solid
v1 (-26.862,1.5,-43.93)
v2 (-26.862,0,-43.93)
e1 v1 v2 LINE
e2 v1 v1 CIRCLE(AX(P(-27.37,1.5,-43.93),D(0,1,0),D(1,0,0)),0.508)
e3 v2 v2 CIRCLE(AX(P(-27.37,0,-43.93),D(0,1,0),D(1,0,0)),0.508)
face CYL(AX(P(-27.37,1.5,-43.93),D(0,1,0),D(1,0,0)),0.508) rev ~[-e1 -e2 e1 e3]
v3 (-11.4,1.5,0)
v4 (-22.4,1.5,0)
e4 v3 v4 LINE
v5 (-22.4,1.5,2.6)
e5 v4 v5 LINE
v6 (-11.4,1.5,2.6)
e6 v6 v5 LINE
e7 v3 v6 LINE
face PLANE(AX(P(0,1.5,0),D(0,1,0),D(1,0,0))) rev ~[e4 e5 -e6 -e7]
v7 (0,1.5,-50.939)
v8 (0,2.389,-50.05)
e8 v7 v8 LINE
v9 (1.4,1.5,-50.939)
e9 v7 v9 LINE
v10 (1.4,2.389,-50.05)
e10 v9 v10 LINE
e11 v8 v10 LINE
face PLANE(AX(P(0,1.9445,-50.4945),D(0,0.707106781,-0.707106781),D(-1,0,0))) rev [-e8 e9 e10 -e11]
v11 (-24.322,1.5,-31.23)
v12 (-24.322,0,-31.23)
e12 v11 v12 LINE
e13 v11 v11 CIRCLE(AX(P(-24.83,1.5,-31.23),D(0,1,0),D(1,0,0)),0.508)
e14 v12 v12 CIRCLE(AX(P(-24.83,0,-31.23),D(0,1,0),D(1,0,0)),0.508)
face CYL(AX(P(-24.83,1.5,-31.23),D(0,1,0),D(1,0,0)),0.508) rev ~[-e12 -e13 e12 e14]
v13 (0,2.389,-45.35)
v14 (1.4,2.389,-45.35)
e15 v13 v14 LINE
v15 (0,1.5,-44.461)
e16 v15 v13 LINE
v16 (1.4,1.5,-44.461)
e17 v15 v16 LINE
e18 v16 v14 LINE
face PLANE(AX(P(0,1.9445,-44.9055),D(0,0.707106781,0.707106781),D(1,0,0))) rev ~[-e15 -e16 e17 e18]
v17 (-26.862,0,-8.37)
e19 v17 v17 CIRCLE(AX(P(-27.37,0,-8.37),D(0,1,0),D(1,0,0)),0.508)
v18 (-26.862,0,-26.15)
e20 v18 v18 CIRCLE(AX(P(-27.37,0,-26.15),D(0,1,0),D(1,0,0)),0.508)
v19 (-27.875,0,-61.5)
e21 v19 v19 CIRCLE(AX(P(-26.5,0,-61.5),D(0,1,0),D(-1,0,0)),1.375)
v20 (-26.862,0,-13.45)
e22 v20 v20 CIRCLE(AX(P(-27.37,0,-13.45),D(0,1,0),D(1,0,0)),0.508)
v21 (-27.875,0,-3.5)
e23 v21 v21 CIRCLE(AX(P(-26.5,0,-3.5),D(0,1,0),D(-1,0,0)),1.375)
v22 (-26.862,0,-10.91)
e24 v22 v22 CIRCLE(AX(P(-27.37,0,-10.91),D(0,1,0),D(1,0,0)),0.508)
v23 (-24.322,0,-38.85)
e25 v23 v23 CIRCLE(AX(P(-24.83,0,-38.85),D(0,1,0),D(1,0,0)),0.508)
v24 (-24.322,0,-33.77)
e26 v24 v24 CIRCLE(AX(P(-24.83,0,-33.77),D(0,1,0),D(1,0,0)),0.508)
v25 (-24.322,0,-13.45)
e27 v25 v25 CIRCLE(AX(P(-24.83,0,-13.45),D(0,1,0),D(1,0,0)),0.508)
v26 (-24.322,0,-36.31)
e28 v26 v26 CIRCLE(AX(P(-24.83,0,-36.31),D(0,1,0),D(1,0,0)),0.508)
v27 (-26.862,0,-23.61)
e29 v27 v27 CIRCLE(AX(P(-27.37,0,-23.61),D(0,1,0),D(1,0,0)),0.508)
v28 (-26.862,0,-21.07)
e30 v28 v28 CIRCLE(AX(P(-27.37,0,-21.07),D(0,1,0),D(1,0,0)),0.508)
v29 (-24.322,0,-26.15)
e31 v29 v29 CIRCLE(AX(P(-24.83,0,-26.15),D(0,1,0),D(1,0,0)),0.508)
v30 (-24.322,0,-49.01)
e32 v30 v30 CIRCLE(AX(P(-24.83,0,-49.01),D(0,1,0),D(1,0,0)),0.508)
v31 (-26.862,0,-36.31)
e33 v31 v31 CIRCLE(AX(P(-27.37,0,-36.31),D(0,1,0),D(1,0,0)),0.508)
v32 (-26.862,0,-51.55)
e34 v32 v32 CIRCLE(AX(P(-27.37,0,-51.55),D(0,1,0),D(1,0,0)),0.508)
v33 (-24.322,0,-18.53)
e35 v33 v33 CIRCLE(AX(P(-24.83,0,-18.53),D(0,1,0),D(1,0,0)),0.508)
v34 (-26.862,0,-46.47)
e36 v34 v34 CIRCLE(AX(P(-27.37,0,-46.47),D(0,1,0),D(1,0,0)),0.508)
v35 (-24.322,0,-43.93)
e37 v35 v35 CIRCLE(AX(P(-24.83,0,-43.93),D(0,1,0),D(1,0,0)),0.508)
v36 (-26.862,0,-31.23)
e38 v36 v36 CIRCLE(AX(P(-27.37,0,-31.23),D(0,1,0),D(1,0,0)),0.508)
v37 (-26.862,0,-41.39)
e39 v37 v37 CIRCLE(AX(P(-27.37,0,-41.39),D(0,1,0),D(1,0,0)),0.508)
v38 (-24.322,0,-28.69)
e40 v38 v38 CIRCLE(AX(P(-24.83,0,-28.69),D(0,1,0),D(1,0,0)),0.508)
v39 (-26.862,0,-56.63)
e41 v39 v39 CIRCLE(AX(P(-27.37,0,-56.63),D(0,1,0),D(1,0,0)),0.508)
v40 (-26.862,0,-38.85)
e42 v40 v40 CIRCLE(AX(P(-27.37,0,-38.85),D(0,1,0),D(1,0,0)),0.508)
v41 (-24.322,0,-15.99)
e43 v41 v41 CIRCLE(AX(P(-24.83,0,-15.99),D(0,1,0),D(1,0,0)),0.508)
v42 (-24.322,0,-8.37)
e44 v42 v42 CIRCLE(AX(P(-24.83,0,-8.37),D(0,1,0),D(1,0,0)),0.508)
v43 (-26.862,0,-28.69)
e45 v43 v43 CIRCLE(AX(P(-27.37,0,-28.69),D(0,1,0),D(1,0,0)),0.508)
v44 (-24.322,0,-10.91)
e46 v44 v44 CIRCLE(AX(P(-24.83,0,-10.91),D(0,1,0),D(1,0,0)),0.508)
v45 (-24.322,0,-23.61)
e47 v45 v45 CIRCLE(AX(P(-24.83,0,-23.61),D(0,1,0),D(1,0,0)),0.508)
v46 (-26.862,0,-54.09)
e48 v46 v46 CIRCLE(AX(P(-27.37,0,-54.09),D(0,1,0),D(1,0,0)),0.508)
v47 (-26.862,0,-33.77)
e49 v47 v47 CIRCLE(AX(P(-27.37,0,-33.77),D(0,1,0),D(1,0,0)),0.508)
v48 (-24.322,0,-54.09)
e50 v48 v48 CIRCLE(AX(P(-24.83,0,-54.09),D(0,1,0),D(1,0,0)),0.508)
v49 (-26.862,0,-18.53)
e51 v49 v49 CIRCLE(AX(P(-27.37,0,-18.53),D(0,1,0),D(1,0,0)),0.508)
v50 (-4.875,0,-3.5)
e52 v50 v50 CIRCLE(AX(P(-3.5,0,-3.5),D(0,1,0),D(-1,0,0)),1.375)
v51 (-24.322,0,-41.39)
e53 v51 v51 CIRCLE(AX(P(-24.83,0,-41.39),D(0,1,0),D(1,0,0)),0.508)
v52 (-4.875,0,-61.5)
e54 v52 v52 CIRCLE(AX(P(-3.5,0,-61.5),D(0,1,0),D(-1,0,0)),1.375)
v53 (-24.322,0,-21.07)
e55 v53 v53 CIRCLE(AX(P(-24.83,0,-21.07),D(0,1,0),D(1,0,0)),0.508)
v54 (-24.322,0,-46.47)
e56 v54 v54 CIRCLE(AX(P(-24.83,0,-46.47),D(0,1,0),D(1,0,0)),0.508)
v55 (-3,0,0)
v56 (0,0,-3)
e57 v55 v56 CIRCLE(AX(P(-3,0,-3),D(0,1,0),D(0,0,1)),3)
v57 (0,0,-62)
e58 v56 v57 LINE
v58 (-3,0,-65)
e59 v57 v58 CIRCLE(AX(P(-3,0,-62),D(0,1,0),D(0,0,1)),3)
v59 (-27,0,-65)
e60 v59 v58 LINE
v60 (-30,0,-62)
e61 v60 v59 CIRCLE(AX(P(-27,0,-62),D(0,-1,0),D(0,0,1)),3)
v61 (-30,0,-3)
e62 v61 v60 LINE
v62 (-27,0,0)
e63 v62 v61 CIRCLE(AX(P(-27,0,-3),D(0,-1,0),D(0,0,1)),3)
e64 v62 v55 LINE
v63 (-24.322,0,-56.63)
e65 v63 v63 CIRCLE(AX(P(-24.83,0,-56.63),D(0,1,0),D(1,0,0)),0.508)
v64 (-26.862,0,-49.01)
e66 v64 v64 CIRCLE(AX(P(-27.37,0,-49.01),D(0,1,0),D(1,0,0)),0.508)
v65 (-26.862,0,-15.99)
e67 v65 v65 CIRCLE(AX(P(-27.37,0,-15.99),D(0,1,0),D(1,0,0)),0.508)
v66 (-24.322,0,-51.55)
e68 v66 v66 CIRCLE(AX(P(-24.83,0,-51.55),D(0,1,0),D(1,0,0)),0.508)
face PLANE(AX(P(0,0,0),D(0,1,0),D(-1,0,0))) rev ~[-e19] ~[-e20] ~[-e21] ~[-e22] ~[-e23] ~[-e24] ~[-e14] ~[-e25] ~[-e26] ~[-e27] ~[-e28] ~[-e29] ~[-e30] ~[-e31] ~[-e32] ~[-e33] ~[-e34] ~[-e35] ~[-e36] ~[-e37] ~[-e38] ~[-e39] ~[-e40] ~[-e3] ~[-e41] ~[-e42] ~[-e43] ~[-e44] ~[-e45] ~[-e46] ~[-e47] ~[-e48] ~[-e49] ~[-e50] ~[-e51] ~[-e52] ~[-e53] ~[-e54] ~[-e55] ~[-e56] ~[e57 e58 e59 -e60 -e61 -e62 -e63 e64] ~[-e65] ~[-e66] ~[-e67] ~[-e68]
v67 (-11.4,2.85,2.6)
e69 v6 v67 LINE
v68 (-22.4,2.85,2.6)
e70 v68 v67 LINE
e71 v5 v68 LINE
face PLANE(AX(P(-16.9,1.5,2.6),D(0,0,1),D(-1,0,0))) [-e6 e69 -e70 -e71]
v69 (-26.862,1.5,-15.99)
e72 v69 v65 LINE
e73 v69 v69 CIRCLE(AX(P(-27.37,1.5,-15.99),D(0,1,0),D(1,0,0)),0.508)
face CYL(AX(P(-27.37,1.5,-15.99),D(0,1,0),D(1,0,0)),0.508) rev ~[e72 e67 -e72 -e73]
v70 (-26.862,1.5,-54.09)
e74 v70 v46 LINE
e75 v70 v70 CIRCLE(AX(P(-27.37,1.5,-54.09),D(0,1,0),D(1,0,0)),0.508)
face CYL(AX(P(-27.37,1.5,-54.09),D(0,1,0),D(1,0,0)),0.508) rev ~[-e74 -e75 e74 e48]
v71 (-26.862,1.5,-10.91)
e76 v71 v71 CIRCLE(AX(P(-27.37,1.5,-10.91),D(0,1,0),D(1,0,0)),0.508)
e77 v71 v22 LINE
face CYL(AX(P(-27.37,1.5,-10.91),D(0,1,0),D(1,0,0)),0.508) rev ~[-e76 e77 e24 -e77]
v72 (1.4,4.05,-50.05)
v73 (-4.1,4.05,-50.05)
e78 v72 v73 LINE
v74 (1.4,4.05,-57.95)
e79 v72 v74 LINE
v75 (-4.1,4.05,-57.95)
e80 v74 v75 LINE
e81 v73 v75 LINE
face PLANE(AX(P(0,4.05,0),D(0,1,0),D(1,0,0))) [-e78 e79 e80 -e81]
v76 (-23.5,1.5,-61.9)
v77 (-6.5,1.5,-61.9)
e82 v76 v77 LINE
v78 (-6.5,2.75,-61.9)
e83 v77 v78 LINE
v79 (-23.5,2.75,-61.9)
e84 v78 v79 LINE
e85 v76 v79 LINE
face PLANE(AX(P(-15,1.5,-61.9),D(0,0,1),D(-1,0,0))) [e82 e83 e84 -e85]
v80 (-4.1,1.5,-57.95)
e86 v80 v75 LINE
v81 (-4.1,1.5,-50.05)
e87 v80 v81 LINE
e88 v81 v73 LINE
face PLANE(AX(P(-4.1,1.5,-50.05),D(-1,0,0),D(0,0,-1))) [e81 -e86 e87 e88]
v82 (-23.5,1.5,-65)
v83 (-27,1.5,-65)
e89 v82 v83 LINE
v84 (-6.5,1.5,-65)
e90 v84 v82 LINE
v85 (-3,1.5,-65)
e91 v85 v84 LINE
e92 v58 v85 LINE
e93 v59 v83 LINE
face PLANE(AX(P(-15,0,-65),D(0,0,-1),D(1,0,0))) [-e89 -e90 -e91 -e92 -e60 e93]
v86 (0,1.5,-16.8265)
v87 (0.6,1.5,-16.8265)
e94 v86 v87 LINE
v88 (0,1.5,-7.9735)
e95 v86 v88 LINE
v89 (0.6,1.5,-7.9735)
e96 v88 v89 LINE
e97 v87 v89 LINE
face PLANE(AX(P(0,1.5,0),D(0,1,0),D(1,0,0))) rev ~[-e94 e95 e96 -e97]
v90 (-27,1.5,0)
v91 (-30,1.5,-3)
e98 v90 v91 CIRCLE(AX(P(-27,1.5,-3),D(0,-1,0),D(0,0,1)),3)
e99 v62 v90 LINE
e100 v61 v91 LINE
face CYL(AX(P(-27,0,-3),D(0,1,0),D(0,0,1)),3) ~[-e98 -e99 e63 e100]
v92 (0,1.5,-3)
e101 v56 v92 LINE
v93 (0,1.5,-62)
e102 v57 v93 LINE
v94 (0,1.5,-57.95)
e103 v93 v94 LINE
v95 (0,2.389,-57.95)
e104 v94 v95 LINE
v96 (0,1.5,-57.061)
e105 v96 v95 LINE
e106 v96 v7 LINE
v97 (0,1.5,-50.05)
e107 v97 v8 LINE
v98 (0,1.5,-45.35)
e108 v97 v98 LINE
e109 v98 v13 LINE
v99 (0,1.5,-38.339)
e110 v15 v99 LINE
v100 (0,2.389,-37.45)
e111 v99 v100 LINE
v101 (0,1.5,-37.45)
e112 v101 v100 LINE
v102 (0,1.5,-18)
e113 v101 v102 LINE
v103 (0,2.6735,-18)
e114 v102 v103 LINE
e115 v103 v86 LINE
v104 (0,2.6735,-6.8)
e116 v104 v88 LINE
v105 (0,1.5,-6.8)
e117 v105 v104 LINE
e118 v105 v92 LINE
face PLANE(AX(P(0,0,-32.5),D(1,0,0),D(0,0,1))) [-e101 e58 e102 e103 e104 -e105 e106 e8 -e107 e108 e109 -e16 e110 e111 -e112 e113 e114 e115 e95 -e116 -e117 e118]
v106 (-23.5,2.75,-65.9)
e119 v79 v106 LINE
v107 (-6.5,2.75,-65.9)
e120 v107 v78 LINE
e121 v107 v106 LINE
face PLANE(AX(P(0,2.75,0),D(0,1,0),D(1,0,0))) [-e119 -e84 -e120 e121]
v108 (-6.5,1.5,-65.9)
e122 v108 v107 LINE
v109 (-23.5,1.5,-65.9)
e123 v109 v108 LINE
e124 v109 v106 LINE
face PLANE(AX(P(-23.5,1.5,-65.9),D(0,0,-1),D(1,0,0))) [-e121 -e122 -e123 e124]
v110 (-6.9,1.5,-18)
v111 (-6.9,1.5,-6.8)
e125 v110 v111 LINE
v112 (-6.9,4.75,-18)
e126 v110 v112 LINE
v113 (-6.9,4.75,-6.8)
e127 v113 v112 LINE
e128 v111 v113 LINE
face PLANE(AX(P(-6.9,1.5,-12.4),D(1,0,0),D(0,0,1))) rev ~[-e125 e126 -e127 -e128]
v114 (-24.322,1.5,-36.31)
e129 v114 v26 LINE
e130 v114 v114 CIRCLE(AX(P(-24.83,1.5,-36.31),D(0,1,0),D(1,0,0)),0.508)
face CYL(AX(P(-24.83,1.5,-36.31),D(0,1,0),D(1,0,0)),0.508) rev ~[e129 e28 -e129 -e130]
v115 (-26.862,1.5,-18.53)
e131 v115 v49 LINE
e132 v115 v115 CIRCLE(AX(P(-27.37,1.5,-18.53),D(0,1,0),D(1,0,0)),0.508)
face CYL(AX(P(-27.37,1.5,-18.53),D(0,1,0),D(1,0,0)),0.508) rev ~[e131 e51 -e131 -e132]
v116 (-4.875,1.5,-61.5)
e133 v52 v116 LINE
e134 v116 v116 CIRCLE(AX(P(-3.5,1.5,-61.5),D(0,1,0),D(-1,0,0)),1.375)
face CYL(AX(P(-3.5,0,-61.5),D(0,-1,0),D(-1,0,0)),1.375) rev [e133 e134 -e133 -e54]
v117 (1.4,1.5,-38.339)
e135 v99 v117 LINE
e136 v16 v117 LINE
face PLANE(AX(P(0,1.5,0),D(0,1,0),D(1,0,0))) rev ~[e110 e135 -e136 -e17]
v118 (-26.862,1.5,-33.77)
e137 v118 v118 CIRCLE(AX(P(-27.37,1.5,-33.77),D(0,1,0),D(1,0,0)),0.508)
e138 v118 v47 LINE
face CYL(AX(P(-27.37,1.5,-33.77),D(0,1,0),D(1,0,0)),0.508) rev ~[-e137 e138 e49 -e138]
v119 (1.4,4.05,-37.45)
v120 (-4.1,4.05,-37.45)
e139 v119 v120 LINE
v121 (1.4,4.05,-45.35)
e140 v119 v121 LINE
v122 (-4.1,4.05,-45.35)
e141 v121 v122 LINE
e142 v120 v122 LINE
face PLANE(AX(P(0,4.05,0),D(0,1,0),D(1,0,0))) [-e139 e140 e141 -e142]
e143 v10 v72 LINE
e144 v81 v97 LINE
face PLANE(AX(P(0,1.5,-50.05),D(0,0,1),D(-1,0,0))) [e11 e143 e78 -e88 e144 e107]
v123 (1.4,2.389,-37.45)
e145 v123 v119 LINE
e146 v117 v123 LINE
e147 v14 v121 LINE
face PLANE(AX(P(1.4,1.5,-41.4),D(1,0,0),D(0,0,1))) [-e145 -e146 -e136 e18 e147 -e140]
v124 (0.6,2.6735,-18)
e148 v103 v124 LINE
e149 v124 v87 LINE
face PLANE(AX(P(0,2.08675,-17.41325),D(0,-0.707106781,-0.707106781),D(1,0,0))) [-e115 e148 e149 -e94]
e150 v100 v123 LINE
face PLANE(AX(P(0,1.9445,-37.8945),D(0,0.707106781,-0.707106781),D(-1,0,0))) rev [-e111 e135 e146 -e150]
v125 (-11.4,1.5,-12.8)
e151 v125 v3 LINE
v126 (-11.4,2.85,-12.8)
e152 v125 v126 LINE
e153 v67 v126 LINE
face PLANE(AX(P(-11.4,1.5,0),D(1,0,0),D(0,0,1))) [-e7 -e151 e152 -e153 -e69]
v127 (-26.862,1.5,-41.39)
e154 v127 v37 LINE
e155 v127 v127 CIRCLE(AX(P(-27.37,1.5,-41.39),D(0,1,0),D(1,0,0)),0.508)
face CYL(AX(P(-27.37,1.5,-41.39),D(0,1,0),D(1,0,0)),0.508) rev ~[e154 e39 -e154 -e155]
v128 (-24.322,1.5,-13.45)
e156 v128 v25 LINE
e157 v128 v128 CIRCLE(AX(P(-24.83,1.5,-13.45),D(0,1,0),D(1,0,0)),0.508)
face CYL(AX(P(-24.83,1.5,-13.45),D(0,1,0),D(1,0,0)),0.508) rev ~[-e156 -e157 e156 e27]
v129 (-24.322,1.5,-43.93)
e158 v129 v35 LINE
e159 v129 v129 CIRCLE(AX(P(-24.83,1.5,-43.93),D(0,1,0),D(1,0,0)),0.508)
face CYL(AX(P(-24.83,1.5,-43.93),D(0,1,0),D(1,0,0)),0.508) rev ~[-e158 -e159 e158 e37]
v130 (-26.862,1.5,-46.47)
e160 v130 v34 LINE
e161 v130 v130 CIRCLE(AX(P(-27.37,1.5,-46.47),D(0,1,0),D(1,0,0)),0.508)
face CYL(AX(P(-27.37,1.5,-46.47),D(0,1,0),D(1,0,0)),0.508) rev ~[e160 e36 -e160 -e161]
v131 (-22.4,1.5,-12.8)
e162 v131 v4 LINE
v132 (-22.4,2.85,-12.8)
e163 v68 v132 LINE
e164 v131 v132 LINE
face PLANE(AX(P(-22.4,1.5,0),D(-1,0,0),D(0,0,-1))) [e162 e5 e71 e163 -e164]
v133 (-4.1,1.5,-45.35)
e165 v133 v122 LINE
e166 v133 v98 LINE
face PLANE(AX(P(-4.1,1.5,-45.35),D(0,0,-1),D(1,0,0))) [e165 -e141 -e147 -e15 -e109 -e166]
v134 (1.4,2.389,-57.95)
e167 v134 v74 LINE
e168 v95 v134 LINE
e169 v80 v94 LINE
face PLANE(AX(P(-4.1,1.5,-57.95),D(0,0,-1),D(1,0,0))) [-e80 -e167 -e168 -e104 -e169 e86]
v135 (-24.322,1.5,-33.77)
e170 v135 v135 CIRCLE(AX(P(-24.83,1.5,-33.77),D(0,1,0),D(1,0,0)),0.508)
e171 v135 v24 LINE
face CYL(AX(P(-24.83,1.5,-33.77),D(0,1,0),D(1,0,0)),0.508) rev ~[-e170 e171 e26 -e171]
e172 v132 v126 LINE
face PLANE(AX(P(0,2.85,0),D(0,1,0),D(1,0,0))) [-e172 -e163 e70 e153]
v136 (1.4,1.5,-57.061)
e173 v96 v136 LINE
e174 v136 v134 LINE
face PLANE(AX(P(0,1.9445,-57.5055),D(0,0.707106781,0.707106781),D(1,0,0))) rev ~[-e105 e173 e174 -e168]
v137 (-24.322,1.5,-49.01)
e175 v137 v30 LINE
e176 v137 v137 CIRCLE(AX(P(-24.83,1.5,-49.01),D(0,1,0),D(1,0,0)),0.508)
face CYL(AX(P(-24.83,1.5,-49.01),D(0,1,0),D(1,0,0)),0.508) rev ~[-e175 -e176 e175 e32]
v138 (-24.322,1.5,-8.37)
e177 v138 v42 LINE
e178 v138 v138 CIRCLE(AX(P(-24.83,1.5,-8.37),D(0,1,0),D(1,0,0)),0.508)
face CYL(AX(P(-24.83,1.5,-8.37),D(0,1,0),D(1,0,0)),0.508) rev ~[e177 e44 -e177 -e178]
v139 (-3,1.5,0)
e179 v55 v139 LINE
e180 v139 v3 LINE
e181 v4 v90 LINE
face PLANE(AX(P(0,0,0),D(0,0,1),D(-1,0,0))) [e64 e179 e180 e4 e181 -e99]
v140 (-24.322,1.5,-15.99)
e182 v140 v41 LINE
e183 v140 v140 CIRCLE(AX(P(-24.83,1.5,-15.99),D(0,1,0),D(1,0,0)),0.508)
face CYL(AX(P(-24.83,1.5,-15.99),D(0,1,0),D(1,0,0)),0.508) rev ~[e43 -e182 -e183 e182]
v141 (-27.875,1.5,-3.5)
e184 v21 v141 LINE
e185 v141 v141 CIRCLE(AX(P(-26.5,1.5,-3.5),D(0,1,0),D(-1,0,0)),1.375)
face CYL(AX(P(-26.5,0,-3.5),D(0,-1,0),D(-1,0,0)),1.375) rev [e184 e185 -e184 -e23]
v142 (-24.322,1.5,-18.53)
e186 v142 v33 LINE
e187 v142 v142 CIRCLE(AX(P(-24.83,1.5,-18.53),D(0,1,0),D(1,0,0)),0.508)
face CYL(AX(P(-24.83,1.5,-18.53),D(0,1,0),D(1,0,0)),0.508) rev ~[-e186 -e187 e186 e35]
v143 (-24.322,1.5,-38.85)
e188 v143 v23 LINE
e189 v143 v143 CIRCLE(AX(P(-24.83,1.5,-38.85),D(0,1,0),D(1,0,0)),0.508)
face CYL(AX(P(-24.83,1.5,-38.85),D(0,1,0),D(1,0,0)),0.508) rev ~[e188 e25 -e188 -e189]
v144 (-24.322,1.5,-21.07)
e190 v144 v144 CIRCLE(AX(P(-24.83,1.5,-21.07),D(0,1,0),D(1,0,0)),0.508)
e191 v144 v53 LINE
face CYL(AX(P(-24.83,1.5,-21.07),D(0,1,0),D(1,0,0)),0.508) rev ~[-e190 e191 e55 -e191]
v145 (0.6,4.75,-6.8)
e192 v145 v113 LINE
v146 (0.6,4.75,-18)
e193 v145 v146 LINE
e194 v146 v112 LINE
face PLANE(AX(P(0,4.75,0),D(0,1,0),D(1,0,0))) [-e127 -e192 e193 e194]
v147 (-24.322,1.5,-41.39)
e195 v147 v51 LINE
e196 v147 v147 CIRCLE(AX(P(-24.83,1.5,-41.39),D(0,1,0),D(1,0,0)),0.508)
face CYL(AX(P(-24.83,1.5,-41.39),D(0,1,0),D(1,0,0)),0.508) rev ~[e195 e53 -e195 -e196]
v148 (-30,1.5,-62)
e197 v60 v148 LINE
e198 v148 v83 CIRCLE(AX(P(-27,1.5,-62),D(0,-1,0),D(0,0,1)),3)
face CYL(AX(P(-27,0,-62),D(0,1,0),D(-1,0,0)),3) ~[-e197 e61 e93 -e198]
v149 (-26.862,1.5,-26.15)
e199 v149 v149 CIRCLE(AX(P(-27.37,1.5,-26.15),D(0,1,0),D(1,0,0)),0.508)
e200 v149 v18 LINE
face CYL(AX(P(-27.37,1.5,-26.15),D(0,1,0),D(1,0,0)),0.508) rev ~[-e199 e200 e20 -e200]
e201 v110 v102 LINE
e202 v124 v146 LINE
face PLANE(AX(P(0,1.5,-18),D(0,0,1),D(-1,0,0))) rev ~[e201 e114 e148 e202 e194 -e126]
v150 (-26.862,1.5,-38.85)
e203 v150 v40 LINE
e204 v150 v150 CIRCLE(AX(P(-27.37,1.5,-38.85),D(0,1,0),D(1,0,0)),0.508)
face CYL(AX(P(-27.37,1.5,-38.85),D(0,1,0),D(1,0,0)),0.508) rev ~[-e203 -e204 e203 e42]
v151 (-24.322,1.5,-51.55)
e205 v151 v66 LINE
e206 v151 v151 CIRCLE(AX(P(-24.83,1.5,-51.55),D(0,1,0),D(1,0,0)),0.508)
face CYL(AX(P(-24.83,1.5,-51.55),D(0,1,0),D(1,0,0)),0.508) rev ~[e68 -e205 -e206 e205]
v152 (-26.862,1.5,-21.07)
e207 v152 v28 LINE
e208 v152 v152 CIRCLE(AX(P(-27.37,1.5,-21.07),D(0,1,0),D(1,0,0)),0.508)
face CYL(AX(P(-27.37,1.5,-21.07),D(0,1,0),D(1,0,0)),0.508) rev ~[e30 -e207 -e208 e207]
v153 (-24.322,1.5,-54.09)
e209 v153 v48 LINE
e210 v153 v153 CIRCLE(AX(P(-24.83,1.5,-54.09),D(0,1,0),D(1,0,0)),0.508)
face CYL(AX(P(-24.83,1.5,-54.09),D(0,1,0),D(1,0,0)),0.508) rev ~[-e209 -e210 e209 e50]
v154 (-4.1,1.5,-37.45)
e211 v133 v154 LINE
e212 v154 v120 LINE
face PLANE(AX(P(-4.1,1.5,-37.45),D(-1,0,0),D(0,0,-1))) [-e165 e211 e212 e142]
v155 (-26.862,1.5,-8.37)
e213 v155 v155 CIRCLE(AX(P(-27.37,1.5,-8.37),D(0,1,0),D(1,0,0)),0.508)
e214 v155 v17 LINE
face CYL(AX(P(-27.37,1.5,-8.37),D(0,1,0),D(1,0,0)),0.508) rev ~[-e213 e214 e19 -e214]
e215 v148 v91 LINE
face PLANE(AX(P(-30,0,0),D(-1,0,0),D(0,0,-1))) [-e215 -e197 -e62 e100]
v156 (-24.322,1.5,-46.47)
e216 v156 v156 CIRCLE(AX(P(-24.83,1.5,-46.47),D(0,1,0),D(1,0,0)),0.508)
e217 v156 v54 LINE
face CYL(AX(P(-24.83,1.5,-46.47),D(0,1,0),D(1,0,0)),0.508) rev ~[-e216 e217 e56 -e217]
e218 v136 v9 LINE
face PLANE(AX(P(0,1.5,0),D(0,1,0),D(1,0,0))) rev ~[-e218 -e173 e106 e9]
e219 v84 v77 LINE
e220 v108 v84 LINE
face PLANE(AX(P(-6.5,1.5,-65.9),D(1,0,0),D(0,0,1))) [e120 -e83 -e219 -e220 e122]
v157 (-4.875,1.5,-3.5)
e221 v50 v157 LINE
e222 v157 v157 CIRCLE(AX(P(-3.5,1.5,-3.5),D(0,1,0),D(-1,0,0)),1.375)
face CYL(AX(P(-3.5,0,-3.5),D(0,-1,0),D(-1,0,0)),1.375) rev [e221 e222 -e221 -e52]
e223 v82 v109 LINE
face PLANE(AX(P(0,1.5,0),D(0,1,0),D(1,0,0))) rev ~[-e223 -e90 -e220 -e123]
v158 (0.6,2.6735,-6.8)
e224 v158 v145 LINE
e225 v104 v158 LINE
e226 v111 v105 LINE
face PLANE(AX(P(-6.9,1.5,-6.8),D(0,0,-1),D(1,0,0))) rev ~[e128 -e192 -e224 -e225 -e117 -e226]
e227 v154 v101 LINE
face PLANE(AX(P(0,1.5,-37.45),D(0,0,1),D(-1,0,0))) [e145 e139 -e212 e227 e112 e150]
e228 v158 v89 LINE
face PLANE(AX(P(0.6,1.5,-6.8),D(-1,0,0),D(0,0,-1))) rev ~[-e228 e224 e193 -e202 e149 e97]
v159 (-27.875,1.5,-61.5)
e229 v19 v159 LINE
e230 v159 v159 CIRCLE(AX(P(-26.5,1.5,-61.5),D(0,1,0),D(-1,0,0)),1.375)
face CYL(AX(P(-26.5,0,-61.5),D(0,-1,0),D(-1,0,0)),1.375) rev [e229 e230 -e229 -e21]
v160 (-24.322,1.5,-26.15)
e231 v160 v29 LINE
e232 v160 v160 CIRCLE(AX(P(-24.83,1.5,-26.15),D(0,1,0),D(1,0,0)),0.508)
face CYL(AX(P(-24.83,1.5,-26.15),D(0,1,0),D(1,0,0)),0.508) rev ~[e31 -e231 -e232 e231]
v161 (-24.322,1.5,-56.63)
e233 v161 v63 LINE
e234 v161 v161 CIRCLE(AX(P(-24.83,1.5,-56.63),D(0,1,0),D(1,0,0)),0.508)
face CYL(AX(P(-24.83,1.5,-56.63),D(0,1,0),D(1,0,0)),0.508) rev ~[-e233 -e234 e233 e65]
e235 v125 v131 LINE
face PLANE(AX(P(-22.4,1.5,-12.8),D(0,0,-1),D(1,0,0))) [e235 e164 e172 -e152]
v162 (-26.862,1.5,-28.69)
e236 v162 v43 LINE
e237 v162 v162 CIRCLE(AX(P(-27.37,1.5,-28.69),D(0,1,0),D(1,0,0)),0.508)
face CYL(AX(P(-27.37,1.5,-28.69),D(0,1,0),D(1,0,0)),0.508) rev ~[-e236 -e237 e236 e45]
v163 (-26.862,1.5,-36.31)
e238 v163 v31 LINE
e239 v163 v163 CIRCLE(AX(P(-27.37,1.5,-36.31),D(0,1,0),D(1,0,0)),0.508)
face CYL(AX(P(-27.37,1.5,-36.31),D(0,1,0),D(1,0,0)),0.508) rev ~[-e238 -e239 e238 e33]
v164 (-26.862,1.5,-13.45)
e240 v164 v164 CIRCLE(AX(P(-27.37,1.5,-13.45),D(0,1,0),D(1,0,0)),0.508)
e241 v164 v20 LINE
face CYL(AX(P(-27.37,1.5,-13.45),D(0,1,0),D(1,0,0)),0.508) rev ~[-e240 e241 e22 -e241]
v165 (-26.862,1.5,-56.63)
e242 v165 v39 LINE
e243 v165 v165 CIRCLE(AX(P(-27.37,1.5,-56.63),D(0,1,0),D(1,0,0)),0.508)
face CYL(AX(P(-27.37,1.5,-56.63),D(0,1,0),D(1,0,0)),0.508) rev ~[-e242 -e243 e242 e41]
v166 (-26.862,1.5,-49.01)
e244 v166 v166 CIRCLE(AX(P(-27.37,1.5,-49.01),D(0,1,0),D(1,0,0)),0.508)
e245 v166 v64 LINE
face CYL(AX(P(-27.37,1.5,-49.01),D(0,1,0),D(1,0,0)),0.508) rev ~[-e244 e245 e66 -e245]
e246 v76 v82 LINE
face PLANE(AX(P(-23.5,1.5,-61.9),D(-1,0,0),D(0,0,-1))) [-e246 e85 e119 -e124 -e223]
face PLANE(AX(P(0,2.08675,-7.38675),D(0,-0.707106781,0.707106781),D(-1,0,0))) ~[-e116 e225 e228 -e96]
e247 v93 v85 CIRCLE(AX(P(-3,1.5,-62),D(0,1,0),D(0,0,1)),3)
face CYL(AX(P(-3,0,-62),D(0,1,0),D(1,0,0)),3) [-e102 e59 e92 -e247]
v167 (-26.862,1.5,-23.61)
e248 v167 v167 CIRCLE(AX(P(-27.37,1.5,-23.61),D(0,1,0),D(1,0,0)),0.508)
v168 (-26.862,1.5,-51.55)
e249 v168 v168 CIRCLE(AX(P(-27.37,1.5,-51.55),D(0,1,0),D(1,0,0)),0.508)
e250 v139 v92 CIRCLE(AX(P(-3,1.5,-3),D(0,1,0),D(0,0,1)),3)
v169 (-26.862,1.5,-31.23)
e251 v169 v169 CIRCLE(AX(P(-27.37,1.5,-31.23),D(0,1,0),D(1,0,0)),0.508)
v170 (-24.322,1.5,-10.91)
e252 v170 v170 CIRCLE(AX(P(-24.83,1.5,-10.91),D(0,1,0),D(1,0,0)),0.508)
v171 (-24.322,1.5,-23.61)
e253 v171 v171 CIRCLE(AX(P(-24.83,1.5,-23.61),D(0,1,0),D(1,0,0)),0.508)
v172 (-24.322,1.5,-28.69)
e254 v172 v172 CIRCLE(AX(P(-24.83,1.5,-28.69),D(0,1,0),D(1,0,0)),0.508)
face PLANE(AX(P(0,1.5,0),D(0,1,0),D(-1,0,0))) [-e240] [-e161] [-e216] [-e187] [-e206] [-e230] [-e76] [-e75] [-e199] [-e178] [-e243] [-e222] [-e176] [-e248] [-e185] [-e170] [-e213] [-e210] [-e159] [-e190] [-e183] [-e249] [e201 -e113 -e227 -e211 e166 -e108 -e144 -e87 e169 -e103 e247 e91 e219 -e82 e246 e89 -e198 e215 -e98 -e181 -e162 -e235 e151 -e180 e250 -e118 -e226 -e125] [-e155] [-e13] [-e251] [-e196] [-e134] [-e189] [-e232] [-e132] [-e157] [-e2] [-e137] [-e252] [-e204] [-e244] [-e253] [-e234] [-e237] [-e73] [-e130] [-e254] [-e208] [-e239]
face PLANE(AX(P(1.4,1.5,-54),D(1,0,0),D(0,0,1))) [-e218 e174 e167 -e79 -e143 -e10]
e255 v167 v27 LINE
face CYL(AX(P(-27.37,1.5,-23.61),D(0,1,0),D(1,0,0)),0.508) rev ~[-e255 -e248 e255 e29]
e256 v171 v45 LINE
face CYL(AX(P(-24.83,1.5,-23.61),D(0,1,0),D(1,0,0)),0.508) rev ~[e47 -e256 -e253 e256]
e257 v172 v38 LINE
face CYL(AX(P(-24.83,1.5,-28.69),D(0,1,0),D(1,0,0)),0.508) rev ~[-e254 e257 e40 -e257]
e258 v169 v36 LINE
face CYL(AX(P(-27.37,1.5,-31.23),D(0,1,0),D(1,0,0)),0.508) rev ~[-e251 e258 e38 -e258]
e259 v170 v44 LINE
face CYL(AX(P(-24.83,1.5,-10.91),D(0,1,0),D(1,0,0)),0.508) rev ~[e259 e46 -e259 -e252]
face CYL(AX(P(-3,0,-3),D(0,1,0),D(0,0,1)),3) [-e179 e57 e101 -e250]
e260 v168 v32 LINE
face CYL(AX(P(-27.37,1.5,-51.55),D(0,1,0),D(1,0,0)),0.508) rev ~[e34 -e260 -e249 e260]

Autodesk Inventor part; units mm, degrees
ref_plane "YZ Plane" through (0, 0, 0) normal (1, 0, 0) x (0, 1, 0)
ref_plane "XZ Plane" through (0, 0, 0) normal (0, 1, 0) x (-1, 0, 0)
ref_plane "XY Plane" through (0, 0, 0) normal (0, 0, 1) x (1, 0, 0)
sketch "Sketch1" plane through (0, 0, 0) normal (0, 1, 0) x (-1, 0, 0)
  line L0 (0, 0) -> (30, 0)
  line L1 (30, 0) -> (30, -65)
  line L2 (30, -65) -> (0, -65)
  line L3 (0, -65) -> (0, 0)
  circle A0 centre (26.5, -3.5) radius 1.375
  circle A1 centre (3.5, -3.5) radius 1.375
  circle A2 centre (26.5, -61.5) radius 1.375
  circle A3 centre (3.5, -61.5) radius 1.375
  line L4 (15, 0) -> (15, -65)
  line L5 (30, -32.5) -> (0, -32.5)
  dimension "d0" = 65
  dimension "d1" = 30
  dimension "d2" = 3.5
  dimension "d3" = 3.5
  dimension "d4" = 3.5
  dimension "d5" = 3.5
  dimension "d6" = 3.5
  dimension "d7" = 3.5
  dimension "d8" = 3.5
  dimension "d9" = 3.5
  dimension "d10" = 2.75
  dimension "d11" = 2.75
  dimension "d12" = 2.75
  dimension "d13" = 2.75
  dimension "d14" = 15
  dimension "d15" = 32.5
extrude "Extrusion1" add sketch "Sketch1" along normal blind 1.5
fillet "Fillet1" radius 3 4 edges at (-30, 0.75, 0) (0, 0.75, 0) (0, 0.75, -65) (-30, 0.75, -65)
sketch "Sketch2" plane through (0, 1.5, 0) normal (0, 1, 0) x (1, 0, 0)
  line L0 (-6.9, 6.8) -> (0.6, 6.8)
  line L1 (0.6, 6.8) -> (0.6, 18)
  line L2 (0.6, 18) -> (-6.9, 18)
  line L3 (-6.9, 18) -> (-6.9, 6.8)
  line L4 (-27, 0) -> (-3, 0) projected
  line L5 (-15, 0) -> (-15, 64.9233)
  line L6 (-30, 62) -> (-30, 3) projected
  line L7 (0.6, 12.4) -> (-6.9, 12.4)
  line L8 (-4.1, 57.95) -> (1.4, 57.95)
  line L9 (1.4, 57.95) -> (1.4, 50.05)
  line L10 (1.4, 50.05) -> (-4.1, 50.05)
  line L11 (-4.1, 50.05) -> (-4.1, 57.95)
  line L12 (-4.1, 45.35) -> (1.4, 45.35)
  line L13 (1.4, 45.35) -> (1.4, 37.45)
  line L14 (1.4, 37.45) -> (-4.1, 37.45)
  line L15 (-4.1, 37.45) -> (-4.1, 45.35)
  line L16 (-4.1, 41.4) -> (1.4, 41.4)
  line L17 (-4.1, 54) -> (1.4, 54)
  line L18 (-22.4, 12.8) -> (-11.4, 12.8)
  line L19 (-11.4, 12.8) -> (-11.4, -2.6)
  line L20 (-11.4, -2.6) -> (-22.4, -2.6)
  line L21 (-22.4, -2.6) -> (-22.4, 12.8)
  line L22 (-16.9, 12.8) -> (-16.9, -2.6)
  line L23 (0, 3) -> (0, 62) projected
  line L24 (-23.5, 65.9) -> (-6.5, 65.9)
  line L25 (-6.5, 65.9) -> (-6.5, 61.9)
  line L26 (-6.5, 61.9) -> (-23.5, 61.9)
  line L27 (-23.5, 61.9) -> (-23.5, 65.9)
  line L28 (-15, 65.9) -> (-15, 61.9)
  point P0 (0, 0)
  dimension "d19" = 11.2
  dimension "d20" = 7.5
  dimension "d21" = 15
  dimension "d23" = 12.4
  dimension "d24" = 7.9
  dimension "d25" = 7.9
  dimension "d26" = 5.5
  dimension "d27" = 3.95
  dimension "d28" = 3.95
  dimension "d29" = 41.4
  dimension "d30" = 54
  dimension "d32" = 30.6
  dimension "d33" = 31.4
  dimension "d34" = 11
  dimension "d35" = 15.4
  dimension "d36" = 2.6
  dimension "d37" = 5.5
  dimension "d38" = 16.9
  dimension "d39" = 65.9
  dimension "d40" = 4
  dimension "d41" = 17
  dimension "d42" = 8.5
  dimension "d43" = 15
extrude "Extrusion2" add sketch "Sketch2" along normal blind 3.25 contours L3 L7 L23 L0 | L23 L7 L1 L0 | L3 L2 L23 L7 | L23 L2 L1 L7
extrude "Extrusion3" add sketch "Sketch2" along normal blind 2.55 contours L10 L11 L17 L23 | L23 L17 L9 L10 | L14 L15 L16 L23 | L23 L16 L13 L14 | L23 L12 L13 L16 | L16 L15 L12 L23 | L23 L8 L9 L17 | L17 L11 L8 L23
extrude "Extrusion4" add sketch "Sketch2" along normal blind 1.25 contours L26 L27 L24 L28 L5 | L5 L28 L24 L25 L26
extrude "Extrusion5" add sketch "Sketch2" along normal blind 1.35 contours L21 L18 L22 L4 | L4 L22 L20 L21 | L22 L18 L5 L4 | L4 L19 L20 L22 | L5 L18 L19 L4
chamfer "Chamfer1" distance 1.1735 angle 45 2 edges at (0.3, 1.5, -6.8) (0.3, 1.5, -18)
chamfer "Chamfer2" distance 0.889 angle 45 4 edges at (0.7, 1.5, -37.45) (0.7, 1.5, -45.35) (0.7, 1.5, -50.05) (0.7, 1.5, -57.95)
sketch "Sketch4" plane through (0, 1.5, 0) normal (0, 1, 0) x (1, 0, 0)
  line L0 (-28.85, 7.05) -> (-23.35, 7.05) construction
  line L1 (-23.35, 7.05) -> (-23.35, 57.95) construction
  line L2 (-23.35, 57.95) -> (-28.85, 57.95) construction
  line L3 (-28.85, 57.95) -> (-28.85, 7.05) construction
  line L4 (-30, 62) -> (-30, 3) construction
  line L5 (-27, 0) -> (-22.4, 0) construction
  line L6 (-23.5, 65) -> (-27, 65) construction
  line L7 (-27.37, 8.37) -> (-28.85, 8.37) construction
  line L8 (-24.83, 8.37) -> (-23.35, 8.37) construction
  line L9 (-27.37, 8.37) -> (-27.37, 7.05) construction
  line L10 (-27.37, 56.63) -> (-27.37, 57.95) construction
  line L11 (-24.83, 8.37) -> (-24.83, 7.05) construction
  line L12 (-24.83, 56.63) -> (-24.83, 57.95) construction
  circle A0 centre (-27.37, 8.37) radius 0.508
  circle A1 centre (-27.37, 10.91) radius 0.508
  circle A2 centre (-27.37, 13.45) radius 0.508
  circle A3 centre (-27.37, 15.99) radius 0.508
  circle A4 centre (-27.37, 18.53) radius 0.508
  circle A5 centre (-27.37, 21.07) radius 0.508
  circle A6 centre (-27.37, 23.61) radius 0.508
  circle A7 centre (-27.37, 26.15) radius 0.508
  circle A8 centre (-27.37, 28.69) radius 0.508
  circle A9 centre (-27.37, 31.23) radius 0.508
  circle A10 centre (-27.37, 33.77) radius 0.508
  circle A11 centre (-27.37, 36.31) radius 0.508
  circle A12 centre (-27.37, 38.85) radius 0.508
  circle A13 centre (-27.37, 41.39) radius 0.508
  circle A14 centre (-27.37, 43.93) radius 0.508
  circle A15 centre (-27.37, 46.47) radius 0.508
  circle A16 centre (-27.37, 49.01) radius 0.508
  circle A17 centre (-27.37, 51.55) radius 0.508
  circle A18 centre (-27.37, 54.09) radius 0.508
  circle A19 centre (-27.37, 56.63) radius 0.508
  circle A20 centre (-24.83, 8.37) radius 0.508
  circle A21 centre (-24.83, 10.91) radius 0.508
  circle A22 centre (-24.83, 13.45) radius 0.508
  circle A23 centre (-24.83, 15.99) radius 0.508
  circle A24 centre (-24.83, 18.53) radius 0.508
  circle A25 centre (-24.83, 21.07) radius 0.508
  circle A26 centre (-24.83, 23.61) radius 0.508
  circle A27 centre (-24.83, 26.15) radius 0.508
  circle A28 centre (-24.83, 28.69) radius 0.508
  circle A29 centre (-24.83, 31.23) radius 0.508
  circle A30 centre (-24.83, 33.77) radius 0.508
  circle A31 centre (-24.83, 36.31) radius 0.508
  circle A32 centre (-24.83, 38.85) radius 0.508
  circle A33 centre (-24.83, 41.39) radius 0.508
  circle A34 centre (-24.83, 43.93) radius 0.508
  circle A35 centre (-24.83, 46.47) radius 0.508
  circle A36 centre (-24.83, 49.01) radius 0.508
  circle A37 centre (-24.83, 51.55) radius 0.508
  circle A38 centre (-24.83, 54.09) radius 0.508
  circle A39 centre (-24.83, 56.63) radius 0.508
  point P0 (0, 0)
  point P1 (-27.37, 21.07)
  point P2 (-27.37, 26.15)
  point P3 (-27.37, 31.23)
  point P4 (-27.37, 36.31)
  point P5 (-27.37, 51.55)
  point P6 (-24.83, 21.07)
  point P7 (-24.83, 26.15)
  point P8 (-24.83, 31.23)
  point P9 (-24.83, 36.31)
  point P10 (-24.83, 51.55)
  dimension "d63" = 1.15
  dimension "d64" = 50.9
  dimension "d65" = 7.05
  dimension "d66" = 7.05
  dimension "d67" = 5.5
  dimension "d68" = 2.54
  dimension "d71" = 2.54
  dimension "d74" = 2.54
  dimension "d77" = 1.016
  dimension "d80" = 2.54
  dimension "d83" = 2.54
extrude "Extrusion7" cut sketch "Sketch4" against normal through all
equation "\"d3\" = d2"
equation "\"d4\" = d3"
equation "\"d5\" = d2"
equation "\"d6\" = d2"
equation "\"d7\" = d3"
equation "\"d8\" = d3"
equation "\"d9\" = d2"
equation "\"d11\" = d10"
equation "\"d12\" = d10"
equation "\"d13\" = d10"
equation "\"d14\" = 0.5 * d1"
equation "\"d15\" = 0.5 * d0"
equation "\"d21\" = d14"
equation "\"d25\" = d24"
equation "\"d27\" = 0.5 * d25"
equation "\"d37\" = 0.5 * d34"
equation "\"d42\" = 0.5 * d41"
equation "\"d43\" = d14"
equation "\"d65\" = d66"
properties part number "pizero_model no gpio" material "UHMW, Black"
